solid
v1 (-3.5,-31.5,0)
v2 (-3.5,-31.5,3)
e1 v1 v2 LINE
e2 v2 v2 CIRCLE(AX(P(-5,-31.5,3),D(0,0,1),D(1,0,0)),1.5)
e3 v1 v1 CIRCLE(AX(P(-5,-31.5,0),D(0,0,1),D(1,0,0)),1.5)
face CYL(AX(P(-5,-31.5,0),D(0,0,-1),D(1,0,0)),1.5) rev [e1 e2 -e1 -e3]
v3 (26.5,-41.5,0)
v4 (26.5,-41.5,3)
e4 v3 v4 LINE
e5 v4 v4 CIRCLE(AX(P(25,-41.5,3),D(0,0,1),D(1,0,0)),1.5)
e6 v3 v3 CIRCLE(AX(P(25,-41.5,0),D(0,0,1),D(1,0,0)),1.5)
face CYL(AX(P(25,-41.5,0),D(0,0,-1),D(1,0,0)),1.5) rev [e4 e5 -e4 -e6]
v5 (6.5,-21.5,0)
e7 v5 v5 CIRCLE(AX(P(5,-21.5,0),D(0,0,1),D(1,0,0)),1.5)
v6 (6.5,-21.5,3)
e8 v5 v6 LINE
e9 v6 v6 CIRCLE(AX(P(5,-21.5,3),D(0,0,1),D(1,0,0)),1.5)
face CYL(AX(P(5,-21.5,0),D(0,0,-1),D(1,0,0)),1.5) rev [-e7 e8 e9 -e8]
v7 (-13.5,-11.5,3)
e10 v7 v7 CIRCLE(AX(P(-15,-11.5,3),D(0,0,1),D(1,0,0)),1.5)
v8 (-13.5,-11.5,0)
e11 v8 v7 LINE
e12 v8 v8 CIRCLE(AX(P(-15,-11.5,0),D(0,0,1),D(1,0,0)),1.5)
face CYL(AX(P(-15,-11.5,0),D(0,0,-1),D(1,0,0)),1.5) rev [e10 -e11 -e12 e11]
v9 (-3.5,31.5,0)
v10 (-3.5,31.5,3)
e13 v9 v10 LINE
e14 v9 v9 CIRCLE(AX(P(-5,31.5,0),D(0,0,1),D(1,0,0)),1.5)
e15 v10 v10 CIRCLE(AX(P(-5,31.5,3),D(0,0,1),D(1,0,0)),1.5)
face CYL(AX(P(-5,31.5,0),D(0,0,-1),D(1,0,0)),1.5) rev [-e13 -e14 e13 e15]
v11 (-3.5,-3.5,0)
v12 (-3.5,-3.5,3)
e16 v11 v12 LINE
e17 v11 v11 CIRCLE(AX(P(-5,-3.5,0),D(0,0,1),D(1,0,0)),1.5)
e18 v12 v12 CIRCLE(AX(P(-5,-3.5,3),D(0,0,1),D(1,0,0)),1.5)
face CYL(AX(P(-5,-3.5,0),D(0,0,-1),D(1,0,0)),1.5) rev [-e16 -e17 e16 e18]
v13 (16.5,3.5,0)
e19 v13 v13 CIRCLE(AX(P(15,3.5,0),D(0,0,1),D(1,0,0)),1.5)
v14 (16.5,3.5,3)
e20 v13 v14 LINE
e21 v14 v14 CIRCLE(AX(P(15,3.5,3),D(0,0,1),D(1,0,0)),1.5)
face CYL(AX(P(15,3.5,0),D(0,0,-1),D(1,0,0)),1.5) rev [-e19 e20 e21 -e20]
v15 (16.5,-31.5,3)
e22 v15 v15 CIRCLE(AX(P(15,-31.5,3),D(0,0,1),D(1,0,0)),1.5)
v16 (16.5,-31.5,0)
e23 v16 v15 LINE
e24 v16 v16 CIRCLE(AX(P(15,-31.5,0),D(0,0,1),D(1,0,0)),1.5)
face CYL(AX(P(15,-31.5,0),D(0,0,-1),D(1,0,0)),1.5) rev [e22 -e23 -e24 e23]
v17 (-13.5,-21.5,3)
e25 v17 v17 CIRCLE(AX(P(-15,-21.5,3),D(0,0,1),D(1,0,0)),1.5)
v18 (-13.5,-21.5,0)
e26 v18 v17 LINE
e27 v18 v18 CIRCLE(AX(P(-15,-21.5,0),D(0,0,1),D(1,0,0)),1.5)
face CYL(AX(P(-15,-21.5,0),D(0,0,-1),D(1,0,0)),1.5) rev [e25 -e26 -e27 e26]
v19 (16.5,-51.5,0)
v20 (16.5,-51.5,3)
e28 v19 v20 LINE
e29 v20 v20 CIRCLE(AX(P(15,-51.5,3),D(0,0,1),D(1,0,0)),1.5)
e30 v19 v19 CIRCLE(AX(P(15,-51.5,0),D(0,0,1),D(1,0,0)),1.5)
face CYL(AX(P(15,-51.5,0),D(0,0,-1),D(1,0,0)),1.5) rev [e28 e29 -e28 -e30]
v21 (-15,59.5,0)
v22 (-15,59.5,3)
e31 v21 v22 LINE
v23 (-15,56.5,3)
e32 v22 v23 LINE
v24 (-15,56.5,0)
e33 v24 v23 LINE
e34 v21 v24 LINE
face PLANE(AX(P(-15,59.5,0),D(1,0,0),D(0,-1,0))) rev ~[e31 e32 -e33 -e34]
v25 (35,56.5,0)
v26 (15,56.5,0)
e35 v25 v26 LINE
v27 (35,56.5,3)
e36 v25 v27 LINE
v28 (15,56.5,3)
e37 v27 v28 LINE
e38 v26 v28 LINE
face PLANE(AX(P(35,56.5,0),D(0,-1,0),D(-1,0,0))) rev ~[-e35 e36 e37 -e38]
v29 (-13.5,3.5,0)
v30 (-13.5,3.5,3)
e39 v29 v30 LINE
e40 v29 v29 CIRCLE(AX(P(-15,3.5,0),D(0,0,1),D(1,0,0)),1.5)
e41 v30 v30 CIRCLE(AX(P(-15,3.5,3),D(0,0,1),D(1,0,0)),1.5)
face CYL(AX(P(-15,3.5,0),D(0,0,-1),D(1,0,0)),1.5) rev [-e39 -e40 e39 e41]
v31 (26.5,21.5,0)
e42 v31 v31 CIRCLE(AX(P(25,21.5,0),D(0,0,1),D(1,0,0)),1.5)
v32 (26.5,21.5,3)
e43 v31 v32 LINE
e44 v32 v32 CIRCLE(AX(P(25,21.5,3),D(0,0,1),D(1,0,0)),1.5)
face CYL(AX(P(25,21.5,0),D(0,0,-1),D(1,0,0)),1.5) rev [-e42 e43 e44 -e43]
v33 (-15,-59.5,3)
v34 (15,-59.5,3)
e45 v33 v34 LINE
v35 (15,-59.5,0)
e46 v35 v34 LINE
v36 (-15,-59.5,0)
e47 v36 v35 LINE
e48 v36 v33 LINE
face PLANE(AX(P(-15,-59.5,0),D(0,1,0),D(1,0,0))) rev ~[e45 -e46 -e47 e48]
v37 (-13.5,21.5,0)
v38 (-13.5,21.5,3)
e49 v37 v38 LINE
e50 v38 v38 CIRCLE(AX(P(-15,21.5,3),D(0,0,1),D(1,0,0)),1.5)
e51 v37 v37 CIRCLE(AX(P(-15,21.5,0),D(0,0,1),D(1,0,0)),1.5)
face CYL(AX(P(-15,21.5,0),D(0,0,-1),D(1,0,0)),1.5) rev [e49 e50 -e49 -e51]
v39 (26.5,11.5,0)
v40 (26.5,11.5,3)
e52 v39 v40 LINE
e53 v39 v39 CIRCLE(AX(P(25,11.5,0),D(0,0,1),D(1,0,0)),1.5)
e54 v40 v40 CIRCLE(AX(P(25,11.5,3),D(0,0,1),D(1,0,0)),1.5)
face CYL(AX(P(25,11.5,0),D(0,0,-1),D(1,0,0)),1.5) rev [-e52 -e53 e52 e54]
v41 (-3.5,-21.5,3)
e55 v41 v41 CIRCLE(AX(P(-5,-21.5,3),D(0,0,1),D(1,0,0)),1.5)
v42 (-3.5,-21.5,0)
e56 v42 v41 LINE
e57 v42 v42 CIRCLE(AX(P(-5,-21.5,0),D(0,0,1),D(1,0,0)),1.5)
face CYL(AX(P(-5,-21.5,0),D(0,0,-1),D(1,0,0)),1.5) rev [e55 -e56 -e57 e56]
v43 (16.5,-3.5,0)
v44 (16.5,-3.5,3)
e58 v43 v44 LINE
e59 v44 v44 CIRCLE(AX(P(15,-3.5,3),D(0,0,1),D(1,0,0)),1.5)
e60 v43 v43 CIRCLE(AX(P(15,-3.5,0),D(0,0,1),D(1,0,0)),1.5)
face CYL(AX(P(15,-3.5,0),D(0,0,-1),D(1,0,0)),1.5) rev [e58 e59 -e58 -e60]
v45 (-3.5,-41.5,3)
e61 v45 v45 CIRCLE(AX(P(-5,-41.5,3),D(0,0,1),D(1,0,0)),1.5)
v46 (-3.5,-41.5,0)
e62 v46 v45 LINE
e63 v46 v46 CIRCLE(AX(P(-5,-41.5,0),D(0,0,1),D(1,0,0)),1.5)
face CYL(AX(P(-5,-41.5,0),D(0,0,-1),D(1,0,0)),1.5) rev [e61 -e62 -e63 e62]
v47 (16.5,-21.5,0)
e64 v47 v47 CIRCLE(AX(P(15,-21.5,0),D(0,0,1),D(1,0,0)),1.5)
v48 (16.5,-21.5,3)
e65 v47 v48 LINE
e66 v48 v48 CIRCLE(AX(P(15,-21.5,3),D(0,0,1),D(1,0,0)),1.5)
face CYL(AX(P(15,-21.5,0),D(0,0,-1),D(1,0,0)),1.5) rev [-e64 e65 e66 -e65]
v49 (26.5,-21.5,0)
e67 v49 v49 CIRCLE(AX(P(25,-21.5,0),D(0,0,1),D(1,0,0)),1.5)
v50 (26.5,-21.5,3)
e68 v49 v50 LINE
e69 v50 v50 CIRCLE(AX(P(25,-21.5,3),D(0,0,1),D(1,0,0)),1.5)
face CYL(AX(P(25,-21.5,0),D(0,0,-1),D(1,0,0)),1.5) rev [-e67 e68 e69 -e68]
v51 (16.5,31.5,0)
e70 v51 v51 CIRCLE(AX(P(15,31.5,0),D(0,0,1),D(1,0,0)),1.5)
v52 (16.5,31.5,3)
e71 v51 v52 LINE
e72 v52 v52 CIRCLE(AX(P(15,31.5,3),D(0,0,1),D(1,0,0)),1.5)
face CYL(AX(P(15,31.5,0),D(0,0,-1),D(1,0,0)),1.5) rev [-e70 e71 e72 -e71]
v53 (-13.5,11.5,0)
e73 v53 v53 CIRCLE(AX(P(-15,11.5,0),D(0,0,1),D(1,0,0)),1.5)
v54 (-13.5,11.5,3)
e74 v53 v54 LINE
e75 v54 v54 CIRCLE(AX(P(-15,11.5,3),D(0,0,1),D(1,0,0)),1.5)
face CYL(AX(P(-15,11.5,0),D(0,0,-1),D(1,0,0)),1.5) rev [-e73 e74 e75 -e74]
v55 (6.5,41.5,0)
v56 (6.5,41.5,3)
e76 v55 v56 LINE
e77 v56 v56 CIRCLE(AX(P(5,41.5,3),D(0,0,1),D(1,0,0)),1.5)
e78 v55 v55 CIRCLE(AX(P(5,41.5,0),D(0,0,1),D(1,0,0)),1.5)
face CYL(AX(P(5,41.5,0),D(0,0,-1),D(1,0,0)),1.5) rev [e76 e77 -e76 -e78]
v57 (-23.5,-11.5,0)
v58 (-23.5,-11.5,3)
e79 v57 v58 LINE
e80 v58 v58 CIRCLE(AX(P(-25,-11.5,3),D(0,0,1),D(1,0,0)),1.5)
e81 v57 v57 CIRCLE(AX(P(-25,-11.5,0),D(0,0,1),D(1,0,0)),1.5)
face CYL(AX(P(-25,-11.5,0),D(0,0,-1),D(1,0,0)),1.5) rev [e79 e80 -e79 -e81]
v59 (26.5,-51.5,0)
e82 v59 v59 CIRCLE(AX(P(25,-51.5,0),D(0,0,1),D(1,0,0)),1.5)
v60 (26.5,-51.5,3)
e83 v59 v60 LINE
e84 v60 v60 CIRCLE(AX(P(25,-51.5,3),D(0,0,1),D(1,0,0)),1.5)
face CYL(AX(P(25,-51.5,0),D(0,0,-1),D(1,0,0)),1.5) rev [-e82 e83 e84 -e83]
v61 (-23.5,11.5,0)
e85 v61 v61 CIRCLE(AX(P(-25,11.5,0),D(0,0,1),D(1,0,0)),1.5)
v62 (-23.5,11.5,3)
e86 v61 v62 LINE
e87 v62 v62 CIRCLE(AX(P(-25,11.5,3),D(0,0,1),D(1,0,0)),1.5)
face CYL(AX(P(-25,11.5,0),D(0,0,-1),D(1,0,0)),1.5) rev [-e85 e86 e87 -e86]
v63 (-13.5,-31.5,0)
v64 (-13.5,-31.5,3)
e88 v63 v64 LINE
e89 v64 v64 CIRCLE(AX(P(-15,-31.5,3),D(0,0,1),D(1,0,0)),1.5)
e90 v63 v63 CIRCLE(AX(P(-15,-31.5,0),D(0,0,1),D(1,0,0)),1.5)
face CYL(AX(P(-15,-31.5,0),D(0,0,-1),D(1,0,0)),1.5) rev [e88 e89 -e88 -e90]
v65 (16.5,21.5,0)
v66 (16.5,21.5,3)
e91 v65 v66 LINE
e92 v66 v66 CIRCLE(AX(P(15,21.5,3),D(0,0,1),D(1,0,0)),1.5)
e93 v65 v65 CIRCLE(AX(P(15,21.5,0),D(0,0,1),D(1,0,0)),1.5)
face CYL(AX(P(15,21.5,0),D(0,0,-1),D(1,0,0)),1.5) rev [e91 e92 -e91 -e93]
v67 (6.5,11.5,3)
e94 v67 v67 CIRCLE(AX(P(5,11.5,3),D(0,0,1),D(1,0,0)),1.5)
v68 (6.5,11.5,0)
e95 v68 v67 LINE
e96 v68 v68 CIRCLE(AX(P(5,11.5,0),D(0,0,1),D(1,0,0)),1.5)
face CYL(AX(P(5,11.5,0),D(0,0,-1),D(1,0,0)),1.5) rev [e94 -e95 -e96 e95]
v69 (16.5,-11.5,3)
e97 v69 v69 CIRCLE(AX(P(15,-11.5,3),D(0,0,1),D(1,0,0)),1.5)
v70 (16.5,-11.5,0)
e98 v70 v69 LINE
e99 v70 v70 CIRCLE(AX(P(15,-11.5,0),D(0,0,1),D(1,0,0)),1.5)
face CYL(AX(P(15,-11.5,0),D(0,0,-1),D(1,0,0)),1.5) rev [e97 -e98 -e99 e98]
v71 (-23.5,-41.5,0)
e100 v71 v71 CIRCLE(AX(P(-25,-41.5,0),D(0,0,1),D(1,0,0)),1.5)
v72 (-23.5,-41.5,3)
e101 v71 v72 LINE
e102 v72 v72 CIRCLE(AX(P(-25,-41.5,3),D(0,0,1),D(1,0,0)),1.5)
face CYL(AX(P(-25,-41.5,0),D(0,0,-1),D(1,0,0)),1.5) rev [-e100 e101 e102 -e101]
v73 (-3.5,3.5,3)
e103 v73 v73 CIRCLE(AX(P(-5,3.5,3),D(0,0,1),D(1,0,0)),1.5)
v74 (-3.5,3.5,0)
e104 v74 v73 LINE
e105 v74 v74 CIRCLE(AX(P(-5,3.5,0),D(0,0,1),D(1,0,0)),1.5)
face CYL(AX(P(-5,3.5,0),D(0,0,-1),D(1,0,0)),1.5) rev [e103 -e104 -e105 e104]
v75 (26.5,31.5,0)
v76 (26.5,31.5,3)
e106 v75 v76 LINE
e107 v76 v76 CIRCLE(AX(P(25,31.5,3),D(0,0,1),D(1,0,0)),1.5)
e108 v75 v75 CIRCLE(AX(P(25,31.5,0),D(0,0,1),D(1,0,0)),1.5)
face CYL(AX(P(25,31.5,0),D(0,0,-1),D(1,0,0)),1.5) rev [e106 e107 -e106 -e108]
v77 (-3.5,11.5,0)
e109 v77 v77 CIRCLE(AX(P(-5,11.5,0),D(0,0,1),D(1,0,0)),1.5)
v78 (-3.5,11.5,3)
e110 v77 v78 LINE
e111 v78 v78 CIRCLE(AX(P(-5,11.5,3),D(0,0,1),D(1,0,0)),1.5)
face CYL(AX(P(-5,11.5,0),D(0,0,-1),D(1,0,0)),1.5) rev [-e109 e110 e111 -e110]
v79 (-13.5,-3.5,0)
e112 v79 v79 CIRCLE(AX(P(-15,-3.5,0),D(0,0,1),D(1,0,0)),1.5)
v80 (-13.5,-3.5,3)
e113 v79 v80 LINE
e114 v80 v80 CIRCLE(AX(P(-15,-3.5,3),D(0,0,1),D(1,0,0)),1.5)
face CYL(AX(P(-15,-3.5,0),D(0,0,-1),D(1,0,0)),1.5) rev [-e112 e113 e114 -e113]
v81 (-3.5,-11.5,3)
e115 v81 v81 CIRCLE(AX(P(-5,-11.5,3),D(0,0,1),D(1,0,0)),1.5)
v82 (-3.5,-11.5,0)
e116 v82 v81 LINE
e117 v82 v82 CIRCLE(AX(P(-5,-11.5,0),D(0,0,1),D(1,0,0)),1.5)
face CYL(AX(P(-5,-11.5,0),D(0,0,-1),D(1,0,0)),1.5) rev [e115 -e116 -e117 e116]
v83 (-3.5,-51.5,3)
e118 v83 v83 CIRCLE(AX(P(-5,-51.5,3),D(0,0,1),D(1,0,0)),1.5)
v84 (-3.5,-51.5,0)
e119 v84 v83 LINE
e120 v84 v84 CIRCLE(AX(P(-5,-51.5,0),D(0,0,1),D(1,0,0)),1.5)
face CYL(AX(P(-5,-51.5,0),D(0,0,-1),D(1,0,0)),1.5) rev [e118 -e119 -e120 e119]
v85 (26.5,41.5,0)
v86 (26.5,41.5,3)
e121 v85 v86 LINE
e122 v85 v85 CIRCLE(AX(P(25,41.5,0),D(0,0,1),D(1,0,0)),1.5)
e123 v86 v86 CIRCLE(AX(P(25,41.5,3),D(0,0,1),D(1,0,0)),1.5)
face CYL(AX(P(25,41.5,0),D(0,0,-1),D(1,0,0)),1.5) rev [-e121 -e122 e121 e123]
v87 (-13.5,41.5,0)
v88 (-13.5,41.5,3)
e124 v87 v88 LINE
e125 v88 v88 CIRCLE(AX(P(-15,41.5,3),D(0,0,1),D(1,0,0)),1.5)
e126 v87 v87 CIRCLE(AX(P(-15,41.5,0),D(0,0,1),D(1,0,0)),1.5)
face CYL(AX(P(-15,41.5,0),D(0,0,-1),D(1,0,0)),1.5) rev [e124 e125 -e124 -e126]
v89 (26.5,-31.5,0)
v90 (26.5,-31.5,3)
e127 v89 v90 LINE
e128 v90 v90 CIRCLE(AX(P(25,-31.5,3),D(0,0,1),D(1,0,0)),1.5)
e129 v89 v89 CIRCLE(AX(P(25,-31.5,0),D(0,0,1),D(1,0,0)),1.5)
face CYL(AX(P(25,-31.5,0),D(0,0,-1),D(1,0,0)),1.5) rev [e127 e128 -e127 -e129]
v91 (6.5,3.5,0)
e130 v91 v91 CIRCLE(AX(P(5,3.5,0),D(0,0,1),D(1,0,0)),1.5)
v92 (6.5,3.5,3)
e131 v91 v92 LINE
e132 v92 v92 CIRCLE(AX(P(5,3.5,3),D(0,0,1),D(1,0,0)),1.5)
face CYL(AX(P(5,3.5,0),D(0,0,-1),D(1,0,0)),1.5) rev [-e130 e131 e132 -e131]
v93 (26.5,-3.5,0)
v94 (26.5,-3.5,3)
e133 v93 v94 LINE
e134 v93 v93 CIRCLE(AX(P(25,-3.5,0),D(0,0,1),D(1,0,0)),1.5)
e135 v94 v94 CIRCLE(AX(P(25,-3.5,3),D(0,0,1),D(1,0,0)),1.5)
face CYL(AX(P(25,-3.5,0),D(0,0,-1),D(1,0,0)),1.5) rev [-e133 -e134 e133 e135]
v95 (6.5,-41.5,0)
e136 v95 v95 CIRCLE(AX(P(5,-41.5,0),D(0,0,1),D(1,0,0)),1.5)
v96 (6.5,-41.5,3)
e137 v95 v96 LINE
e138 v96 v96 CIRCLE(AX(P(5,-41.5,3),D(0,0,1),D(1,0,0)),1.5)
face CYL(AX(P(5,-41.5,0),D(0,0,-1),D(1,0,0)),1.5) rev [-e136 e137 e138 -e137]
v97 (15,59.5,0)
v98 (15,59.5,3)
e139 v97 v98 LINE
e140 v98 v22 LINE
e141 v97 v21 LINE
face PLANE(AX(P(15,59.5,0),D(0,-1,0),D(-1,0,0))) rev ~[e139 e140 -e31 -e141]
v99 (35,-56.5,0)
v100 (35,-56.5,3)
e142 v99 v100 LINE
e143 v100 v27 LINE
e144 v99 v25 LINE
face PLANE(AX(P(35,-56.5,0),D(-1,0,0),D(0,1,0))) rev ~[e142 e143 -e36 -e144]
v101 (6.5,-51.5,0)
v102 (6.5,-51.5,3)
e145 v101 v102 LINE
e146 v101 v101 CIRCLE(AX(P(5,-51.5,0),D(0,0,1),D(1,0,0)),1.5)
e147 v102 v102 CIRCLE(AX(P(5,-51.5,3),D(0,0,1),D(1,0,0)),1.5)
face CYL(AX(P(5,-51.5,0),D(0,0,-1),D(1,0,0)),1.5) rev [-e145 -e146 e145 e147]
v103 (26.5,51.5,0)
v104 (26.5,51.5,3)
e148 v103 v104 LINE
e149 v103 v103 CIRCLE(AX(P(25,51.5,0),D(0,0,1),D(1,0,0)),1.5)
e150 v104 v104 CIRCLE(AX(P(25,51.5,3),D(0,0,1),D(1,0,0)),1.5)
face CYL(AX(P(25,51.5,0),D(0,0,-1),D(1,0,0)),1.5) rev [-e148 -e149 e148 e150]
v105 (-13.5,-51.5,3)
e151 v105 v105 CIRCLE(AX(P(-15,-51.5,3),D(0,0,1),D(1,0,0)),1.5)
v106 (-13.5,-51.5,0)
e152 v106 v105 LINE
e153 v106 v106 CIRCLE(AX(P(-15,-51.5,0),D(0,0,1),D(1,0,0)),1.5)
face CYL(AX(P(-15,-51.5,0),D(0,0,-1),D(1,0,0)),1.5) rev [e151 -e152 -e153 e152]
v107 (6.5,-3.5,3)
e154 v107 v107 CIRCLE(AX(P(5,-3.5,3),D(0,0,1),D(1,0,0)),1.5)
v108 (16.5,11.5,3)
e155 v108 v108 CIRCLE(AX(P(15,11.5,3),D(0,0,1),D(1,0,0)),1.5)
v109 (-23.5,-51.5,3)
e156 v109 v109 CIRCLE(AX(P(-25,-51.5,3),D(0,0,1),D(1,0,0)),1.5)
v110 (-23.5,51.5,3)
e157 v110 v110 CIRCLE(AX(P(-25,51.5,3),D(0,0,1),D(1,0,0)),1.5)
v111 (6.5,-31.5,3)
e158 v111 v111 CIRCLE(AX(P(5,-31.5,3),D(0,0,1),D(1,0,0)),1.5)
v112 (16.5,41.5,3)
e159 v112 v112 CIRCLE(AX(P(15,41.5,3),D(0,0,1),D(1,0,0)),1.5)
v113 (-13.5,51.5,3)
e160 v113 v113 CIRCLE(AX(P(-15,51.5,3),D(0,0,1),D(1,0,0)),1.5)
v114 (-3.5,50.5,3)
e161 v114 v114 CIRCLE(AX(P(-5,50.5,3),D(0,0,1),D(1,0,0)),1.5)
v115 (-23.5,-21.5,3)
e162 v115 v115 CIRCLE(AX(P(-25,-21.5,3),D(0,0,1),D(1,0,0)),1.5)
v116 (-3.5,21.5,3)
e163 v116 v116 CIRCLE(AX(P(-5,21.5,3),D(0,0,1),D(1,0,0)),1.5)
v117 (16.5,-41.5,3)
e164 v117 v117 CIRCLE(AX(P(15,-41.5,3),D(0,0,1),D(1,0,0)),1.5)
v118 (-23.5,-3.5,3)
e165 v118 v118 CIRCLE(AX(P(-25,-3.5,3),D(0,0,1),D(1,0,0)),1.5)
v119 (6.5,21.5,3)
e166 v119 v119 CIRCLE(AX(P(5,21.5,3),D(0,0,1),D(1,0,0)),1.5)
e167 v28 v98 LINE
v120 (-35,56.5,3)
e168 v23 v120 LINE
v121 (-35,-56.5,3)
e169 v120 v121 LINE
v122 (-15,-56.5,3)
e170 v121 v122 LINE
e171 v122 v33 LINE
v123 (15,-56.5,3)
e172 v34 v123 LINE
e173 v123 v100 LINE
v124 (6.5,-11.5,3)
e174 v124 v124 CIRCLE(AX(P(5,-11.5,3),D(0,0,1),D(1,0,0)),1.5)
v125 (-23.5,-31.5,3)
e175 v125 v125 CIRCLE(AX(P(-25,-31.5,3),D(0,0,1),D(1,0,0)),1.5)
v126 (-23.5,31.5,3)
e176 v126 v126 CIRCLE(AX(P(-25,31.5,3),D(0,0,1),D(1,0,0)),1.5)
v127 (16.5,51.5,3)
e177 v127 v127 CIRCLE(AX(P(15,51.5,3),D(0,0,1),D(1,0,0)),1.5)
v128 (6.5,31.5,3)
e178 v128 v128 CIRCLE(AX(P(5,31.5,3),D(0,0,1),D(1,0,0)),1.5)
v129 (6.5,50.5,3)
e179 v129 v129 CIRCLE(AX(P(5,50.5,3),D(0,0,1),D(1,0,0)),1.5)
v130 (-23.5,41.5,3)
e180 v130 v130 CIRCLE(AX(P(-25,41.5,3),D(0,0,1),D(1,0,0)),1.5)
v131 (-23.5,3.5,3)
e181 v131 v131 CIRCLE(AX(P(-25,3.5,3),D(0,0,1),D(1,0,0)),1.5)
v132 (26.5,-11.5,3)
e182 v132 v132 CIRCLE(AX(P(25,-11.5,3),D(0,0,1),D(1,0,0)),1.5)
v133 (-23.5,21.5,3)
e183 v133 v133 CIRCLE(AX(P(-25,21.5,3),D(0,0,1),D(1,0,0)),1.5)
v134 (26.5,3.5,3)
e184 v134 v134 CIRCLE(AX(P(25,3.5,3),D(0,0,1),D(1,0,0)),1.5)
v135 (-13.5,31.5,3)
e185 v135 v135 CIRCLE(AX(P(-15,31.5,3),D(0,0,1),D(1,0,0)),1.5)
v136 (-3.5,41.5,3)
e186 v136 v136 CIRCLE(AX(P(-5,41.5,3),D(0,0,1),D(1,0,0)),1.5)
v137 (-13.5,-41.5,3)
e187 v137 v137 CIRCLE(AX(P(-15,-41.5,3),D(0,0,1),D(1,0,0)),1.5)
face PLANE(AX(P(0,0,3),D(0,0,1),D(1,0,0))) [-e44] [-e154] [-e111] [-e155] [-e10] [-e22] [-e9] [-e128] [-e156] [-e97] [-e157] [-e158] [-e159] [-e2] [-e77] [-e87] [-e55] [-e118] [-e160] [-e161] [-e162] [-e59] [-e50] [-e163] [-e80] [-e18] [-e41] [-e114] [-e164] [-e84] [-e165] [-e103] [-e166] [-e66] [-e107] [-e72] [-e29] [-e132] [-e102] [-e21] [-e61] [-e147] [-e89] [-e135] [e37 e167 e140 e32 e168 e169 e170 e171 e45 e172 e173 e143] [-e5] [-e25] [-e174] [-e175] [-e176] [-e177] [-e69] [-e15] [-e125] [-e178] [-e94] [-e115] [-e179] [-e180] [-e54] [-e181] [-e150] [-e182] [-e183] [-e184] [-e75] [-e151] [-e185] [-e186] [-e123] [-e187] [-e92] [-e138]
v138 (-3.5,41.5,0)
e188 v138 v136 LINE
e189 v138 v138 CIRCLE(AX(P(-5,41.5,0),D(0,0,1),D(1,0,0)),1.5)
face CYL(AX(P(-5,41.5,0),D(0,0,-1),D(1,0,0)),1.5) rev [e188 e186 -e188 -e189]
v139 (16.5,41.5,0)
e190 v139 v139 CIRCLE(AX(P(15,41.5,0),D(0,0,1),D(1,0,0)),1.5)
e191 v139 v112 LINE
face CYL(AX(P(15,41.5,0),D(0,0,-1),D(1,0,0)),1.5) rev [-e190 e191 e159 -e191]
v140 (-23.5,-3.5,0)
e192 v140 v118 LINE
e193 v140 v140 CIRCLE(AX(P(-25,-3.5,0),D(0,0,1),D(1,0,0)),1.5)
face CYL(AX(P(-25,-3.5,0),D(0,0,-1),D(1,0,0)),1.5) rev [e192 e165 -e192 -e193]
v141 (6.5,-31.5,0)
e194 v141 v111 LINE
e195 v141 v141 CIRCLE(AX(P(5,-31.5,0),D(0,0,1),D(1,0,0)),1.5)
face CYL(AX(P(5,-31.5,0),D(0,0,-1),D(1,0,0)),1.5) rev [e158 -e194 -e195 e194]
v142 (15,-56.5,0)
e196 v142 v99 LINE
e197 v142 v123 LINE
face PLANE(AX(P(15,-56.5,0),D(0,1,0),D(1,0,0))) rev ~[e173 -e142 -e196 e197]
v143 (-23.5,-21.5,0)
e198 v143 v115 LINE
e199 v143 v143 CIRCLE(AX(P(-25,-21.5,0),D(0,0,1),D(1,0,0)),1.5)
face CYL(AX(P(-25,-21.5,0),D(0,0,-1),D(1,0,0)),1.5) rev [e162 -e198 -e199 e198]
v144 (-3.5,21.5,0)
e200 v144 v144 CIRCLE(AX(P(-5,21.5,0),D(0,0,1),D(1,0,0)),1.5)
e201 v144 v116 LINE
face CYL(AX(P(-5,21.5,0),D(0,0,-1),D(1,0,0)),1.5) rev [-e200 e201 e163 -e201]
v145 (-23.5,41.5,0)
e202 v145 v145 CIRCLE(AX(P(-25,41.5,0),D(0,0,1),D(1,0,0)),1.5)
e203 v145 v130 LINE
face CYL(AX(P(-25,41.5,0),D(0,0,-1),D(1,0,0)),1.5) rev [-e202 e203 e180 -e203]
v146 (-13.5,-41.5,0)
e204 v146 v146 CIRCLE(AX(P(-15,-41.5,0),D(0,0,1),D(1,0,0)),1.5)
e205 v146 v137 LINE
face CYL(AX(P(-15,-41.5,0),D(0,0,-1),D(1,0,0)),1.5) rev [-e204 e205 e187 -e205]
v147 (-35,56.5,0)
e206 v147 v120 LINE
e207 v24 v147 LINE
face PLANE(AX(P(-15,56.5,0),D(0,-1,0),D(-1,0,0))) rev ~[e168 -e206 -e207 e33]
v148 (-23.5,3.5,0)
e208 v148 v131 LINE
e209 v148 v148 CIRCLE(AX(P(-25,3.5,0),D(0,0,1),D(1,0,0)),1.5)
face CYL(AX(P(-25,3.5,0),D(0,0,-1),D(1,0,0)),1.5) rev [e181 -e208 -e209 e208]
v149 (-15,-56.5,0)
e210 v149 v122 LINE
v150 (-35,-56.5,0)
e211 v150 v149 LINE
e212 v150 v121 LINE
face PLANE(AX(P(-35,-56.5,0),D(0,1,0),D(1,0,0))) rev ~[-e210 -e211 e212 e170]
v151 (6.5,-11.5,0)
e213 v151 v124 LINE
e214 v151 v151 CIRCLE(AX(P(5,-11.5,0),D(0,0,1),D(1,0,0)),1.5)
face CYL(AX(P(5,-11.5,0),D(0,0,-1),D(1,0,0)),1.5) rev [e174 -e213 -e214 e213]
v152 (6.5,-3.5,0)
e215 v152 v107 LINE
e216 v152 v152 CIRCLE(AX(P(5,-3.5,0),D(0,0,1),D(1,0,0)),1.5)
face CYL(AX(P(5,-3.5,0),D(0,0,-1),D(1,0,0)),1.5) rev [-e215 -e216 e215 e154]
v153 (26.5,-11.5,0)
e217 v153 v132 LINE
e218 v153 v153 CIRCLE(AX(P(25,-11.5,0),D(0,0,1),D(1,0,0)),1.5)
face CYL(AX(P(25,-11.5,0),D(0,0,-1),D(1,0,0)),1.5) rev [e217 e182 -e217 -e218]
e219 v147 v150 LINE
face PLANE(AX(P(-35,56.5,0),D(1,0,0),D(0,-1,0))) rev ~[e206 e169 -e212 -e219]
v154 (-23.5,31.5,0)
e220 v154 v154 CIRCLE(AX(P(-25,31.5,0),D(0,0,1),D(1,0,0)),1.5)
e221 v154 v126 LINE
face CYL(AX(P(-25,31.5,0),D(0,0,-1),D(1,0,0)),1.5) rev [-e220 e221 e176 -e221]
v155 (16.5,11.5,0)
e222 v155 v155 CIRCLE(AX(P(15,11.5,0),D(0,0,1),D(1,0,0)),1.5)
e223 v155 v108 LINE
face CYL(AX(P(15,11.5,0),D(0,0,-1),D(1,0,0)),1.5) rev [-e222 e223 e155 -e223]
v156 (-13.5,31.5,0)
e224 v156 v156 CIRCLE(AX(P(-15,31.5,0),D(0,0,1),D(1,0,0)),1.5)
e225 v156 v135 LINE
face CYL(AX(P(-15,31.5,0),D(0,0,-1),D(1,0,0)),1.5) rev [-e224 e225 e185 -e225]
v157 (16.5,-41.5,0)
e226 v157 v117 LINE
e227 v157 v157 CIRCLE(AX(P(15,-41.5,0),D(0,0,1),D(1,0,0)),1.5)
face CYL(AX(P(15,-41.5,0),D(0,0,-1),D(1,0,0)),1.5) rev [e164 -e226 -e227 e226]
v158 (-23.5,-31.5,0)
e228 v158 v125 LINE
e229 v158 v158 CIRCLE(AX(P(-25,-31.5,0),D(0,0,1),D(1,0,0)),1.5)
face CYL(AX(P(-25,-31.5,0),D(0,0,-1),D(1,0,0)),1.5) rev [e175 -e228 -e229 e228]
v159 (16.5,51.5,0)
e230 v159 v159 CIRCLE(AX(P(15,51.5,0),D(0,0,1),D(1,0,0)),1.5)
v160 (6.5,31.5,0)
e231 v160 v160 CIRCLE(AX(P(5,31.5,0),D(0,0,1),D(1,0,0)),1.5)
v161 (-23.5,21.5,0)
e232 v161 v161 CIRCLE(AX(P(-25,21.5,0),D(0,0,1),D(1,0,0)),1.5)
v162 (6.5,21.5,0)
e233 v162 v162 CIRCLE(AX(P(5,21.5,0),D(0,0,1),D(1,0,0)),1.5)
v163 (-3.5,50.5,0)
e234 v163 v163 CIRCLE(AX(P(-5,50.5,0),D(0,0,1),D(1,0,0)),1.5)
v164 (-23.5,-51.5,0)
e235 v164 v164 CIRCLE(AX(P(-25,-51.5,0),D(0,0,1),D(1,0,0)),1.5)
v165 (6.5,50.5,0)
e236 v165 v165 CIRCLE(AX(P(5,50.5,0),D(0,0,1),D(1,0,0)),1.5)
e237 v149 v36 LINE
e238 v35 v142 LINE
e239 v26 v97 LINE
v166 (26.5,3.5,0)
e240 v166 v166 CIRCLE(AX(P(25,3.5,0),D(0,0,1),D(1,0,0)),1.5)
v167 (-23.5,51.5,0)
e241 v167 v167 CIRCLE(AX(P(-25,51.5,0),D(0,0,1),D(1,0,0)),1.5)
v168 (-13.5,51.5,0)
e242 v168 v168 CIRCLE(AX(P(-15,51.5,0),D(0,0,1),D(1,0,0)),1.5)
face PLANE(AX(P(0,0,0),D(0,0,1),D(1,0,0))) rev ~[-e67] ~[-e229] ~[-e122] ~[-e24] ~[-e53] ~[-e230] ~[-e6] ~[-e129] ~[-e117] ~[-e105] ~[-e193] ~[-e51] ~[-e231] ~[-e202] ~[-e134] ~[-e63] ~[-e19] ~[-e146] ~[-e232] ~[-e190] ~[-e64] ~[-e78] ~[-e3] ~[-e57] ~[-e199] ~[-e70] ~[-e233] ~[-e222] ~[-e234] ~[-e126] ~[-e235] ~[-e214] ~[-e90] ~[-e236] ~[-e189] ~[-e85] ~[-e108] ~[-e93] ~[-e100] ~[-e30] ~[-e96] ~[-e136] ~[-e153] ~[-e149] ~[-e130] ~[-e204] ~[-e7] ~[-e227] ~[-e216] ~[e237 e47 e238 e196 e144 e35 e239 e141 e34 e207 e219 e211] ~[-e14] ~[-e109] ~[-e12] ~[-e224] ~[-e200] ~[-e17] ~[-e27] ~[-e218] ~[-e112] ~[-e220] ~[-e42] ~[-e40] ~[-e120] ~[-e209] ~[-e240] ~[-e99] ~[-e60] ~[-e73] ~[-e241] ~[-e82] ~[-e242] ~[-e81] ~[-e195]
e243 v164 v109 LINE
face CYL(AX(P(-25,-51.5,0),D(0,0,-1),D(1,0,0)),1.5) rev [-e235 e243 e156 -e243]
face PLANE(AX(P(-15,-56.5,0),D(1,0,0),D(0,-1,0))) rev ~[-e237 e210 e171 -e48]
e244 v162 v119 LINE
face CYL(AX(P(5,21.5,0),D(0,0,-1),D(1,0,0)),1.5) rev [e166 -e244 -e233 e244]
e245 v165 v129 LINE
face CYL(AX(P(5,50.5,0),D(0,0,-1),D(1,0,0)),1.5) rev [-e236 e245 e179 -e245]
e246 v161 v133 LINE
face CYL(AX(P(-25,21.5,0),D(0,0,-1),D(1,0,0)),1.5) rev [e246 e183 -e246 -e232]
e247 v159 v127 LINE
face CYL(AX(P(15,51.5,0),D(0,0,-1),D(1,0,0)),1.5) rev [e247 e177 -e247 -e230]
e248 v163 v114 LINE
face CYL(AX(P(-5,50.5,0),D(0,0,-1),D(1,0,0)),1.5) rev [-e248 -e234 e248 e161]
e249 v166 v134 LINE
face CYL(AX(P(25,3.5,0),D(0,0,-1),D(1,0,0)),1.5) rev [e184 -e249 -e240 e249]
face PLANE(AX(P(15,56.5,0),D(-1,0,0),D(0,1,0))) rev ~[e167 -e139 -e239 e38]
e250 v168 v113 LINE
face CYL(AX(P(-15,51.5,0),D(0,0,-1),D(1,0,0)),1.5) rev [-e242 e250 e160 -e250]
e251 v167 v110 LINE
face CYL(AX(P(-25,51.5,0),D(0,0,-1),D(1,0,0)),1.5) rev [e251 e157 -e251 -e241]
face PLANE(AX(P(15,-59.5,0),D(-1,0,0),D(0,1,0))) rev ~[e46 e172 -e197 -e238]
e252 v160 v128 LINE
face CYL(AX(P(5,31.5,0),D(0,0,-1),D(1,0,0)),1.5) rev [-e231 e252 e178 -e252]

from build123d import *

# Parameters (mm, degrees)
SKETCH1_R           = 1.5
BOSS_EXTRUDE1_DEPTH = 3


with BuildPart() as part:
    # Sketch1 → Boss-Extrude1 (new body)
    with BuildSketch(Plane.XY):
        Polygon((-35, 56.5), (-35, -56.5), (-15, -56.5), (-15, -59.5), (15, -59.5), (15, -56.5), (35, -56.5), (35, 56.5), (25, 56.5), (15, 56.5), (15, 59.5), (5, 59.5), (-5, 59.5), (-15, 59.5), (-15, 56.5), (-25, 56.5), align=None)
        with Locations((-25, 51.5)):
            Circle(SKETCH1_R, mode=Mode.SUBTRACT)
        with Locations((-25, 41.5)):
            Circle(SKETCH1_R, mode=Mode.SUBTRACT)
        with Locations((-25, 31.5)):
            Circle(SKETCH1_R, mode=Mode.SUBTRACT)
        with Locations((-25, 21.5)):
            Circle(SKETCH1_R, mode=Mode.SUBTRACT)
        with Locations((-25, 11.5)):
            Circle(SKETCH1_R, mode=Mode.SUBTRACT)
        with Locations((-25, 3.5)):
            Circle(SKETCH1_R, mode=Mode.SUBTRACT)
        with Locations((-25, -3.5)):
            Circle(SKETCH1_R, mode=Mode.SUBTRACT)
        with Locations((-25, -11.5)):
            Circle(SKETCH1_R, mode=Mode.SUBTRACT)
        with Locations((-25, -21.5)):
            Circle(SKETCH1_R, mode=Mode.SUBTRACT)
        with Locations((-25, -31.5)):
            Circle(SKETCH1_R, mode=Mode.SUBTRACT)
        with Locations((-25, -51.5)):
            Circle(SKETCH1_R, mode=Mode.SUBTRACT)
        with Locations((-15, 51.5)):
            Circle(SKETCH1_R, mode=Mode.SUBTRACT)
        with Locations((-15, 41.5)):
            Circle(SKETCH1_R, mode=Mode.SUBTRACT)
        with Locations((-15, 31.5)):
            Circle(SKETCH1_R, mode=Mode.SUBTRACT)
        with Locations((-15, 21.5)):
            Circle(SKETCH1_R, mode=Mode.SUBTRACT)
        with Locations((-15, 11.5)):
            Circle(SKETCH1_R, mode=Mode.SUBTRACT)
        with Locations((-15, 3.5)):
            Circle(SKETCH1_R, mode=Mode.SUBTRACT)
        with Locations((-15, -3.5)):
            Circle(SKETCH1_R, mode=Mode.SUBTRACT)
        with Locations((-15, -11.5)):
            Circle(SKETCH1_R, mode=Mode.SUBTRACT)
        with Locations((-15, -21.5)):
            Circle(SKETCH1_R, mode=Mode.SUBTRACT)
        with Locations((-15, -31.5)):
            Circle(SKETCH1_R, mode=Mode.SUBTRACT)
        with Locations((-15, -51.5)):
            Circle(SKETCH1_R, mode=Mode.SUBTRACT)
        with Locations((-5, 50.5)):
            Circle(SKETCH1_R, mode=Mode.SUBTRACT)
        with Locations((-5, 41.5)):
            Circle(SKETCH1_R, mode=Mode.SUBTRACT)
        with Locations((-5, 31.5)):
            Circle(SKETCH1_R, mode=Mode.SUBTRACT)
        with Locations((-5, 21.5)):
            Circle(SKETCH1_R, mode=Mode.SUBTRACT)
        with Locations((-5, 11.5)):
            Circle(SKETCH1_R, mode=Mode.SUBTRACT)
        with Locations((-5, 3.5)):
            Circle(SKETCH1_R, mode=Mode.SUBTRACT)
        with Locations((-5, -3.5)):
            Circle(SKETCH1_R, mode=Mode.SUBTRACT)
        with Locations((-5, -11.5)):
            Circle(SKETCH1_R, mode=Mode.SUBTRACT)
        with Locations((-5, -21.5)):
            Circle(SKETCH1_R, mode=Mode.SUBTRACT)
        with Locations((-5, -31.5)):
            Circle(SKETCH1_R, mode=Mode.SUBTRACT)
        with Locations((-5, -51.5)):
            Circle(SKETCH1_R, mode=Mode.SUBTRACT)
        with Locations((5, 50.5)):
            Circle(SKETCH1_R, mode=Mode.SUBTRACT)
        with Locations((5, 41.5)):
            Circle(SKETCH1_R, mode=Mode.SUBTRACT)
        with Locations((5, 31.5)):
            Circle(SKETCH1_R, mode=Mode.SUBTRACT)
        with Locations((5, 21.5)):
            Circle(SKETCH1_R, mode=Mode.SUBTRACT)
        with Locations((5, 11.5)):
            Circle(SKETCH1_R, mode=Mode.SUBTRACT)
        with Locations((5, 3.5)):
            Circle(SKETCH1_R, mode=Mode.SUBTRACT)
        with Locations((5, -3.5)):
            Circle(SKETCH1_R, mode=Mode.SUBTRACT)
        with Locations((5, -11.5)):
            Circle(SKETCH1_R, mode=Mode.SUBTRACT)
        with Locations((5, -21.5)):
            Circle(SKETCH1_R, mode=Mode.SUBTRACT)
        with Locations((5, -31.5)):
            Circle(SKETCH1_R, mode=Mode.SUBTRACT)
        with Locations((5, -51.5)):
            Circle(SKETCH1_R, mode=Mode.SUBTRACT)
        with Locations((15, 51.5)):
            Circle(SKETCH1_R, mode=Mode.SUBTRACT)
        with Locations((15, 41.5)):
            Circle(SKETCH1_R, mode=Mode.SUBTRACT)
        with Locations((15, 31.5)):
            Circle(SKETCH1_R, mode=Mode.SUBTRACT)
        with Locations((15, 21.5)):
            Circle(SKETCH1_R, mode=Mode.SUBTRACT)
        with Locations((15, 11.5)):
            Circle(SKETCH1_R, mode=Mode.SUBTRACT)
        with Locations((15, 3.5)):
            Circle(SKETCH1_R, mode=Mode.SUBTRACT)
        with Locations((15, -3.5)):
            Circle(SKETCH1_R, mode=Mode.SUBTRACT)
        with Locations((15, -11.5)):
            Circle(SKETCH1_R, mode=Mode.SUBTRACT)
        with Locations((15, -21.5)):
            Circle(SKETCH1_R, mode=Mode.SUBTRACT)
        with Locations((15, -31.5)):
            Circle(SKETCH1_R, mode=Mode.SUBTRACT)
        with Locations((15, -51.5)):
            Circle(SKETCH1_R, mode=Mode.SUBTRACT)
        with Locations((25, 51.5)):
            Circle(SKETCH1_R, mode=Mode.SUBTRACT)
        with Locations((25, 41.5)):
            Circle(SKETCH1_R, mode=Mode.SUBTRACT)
        with Locations((25, 31.5)):
            Circle(SKETCH1_R, mode=Mode.SUBTRACT)
        with Locations((25, 21.5)):
            Circle(SKETCH1_R, mode=Mode.SUBTRACT)
        with Locations((25, 11.5)):
            Circle(SKETCH1_R, mode=Mode.SUBTRACT)
        with Locations((25, 3.5)):
            Circle(SKETCH1_R, mode=Mode.SUBTRACT)
        with Locations((25, -3.5)):
            Circle(SKETCH1_R, mode=Mode.SUBTRACT)
        with Locations((25, -11.5)):
            Circle(SKETCH1_R, mode=Mode.SUBTRACT)
        with Locations((25, -21.5)):
            Circle(SKETCH1_R, mode=Mode.SUBTRACT)
        with Locations((25, -31.5)):
            Circle(SKETCH1_R, mode=Mode.SUBTRACT)
        with Locations((25, -51.5)):
            Circle(SKETCH1_R, mode=Mode.SUBTRACT)
        with Locations((-25, -41.5)):
            Circle(SKETCH1_R, mode=Mode.SUBTRACT)
        with Locations((-15, -41.5)):
            Circle(SKETCH1_R, mode=Mode.SUBTRACT)
        with Locations((-5, -41.5)):
            Circle(SKETCH1_R, mode=Mode.SUBTRACT)
        with Locations((5, -41.5)):
            Circle(SKETCH1_R, mode=Mode.SUBTRACT)
        with Locations((15, -41.5)):
            Circle(SKETCH1_R, mode=Mode.SUBTRACT)
        with Locations((25, -41.5)):
            Circle(SKETCH1_R, mode=Mode.SUBTRACT)
    extrude(amount=BOSS_EXTRUDE1_DEPTH)


solid = part.part
